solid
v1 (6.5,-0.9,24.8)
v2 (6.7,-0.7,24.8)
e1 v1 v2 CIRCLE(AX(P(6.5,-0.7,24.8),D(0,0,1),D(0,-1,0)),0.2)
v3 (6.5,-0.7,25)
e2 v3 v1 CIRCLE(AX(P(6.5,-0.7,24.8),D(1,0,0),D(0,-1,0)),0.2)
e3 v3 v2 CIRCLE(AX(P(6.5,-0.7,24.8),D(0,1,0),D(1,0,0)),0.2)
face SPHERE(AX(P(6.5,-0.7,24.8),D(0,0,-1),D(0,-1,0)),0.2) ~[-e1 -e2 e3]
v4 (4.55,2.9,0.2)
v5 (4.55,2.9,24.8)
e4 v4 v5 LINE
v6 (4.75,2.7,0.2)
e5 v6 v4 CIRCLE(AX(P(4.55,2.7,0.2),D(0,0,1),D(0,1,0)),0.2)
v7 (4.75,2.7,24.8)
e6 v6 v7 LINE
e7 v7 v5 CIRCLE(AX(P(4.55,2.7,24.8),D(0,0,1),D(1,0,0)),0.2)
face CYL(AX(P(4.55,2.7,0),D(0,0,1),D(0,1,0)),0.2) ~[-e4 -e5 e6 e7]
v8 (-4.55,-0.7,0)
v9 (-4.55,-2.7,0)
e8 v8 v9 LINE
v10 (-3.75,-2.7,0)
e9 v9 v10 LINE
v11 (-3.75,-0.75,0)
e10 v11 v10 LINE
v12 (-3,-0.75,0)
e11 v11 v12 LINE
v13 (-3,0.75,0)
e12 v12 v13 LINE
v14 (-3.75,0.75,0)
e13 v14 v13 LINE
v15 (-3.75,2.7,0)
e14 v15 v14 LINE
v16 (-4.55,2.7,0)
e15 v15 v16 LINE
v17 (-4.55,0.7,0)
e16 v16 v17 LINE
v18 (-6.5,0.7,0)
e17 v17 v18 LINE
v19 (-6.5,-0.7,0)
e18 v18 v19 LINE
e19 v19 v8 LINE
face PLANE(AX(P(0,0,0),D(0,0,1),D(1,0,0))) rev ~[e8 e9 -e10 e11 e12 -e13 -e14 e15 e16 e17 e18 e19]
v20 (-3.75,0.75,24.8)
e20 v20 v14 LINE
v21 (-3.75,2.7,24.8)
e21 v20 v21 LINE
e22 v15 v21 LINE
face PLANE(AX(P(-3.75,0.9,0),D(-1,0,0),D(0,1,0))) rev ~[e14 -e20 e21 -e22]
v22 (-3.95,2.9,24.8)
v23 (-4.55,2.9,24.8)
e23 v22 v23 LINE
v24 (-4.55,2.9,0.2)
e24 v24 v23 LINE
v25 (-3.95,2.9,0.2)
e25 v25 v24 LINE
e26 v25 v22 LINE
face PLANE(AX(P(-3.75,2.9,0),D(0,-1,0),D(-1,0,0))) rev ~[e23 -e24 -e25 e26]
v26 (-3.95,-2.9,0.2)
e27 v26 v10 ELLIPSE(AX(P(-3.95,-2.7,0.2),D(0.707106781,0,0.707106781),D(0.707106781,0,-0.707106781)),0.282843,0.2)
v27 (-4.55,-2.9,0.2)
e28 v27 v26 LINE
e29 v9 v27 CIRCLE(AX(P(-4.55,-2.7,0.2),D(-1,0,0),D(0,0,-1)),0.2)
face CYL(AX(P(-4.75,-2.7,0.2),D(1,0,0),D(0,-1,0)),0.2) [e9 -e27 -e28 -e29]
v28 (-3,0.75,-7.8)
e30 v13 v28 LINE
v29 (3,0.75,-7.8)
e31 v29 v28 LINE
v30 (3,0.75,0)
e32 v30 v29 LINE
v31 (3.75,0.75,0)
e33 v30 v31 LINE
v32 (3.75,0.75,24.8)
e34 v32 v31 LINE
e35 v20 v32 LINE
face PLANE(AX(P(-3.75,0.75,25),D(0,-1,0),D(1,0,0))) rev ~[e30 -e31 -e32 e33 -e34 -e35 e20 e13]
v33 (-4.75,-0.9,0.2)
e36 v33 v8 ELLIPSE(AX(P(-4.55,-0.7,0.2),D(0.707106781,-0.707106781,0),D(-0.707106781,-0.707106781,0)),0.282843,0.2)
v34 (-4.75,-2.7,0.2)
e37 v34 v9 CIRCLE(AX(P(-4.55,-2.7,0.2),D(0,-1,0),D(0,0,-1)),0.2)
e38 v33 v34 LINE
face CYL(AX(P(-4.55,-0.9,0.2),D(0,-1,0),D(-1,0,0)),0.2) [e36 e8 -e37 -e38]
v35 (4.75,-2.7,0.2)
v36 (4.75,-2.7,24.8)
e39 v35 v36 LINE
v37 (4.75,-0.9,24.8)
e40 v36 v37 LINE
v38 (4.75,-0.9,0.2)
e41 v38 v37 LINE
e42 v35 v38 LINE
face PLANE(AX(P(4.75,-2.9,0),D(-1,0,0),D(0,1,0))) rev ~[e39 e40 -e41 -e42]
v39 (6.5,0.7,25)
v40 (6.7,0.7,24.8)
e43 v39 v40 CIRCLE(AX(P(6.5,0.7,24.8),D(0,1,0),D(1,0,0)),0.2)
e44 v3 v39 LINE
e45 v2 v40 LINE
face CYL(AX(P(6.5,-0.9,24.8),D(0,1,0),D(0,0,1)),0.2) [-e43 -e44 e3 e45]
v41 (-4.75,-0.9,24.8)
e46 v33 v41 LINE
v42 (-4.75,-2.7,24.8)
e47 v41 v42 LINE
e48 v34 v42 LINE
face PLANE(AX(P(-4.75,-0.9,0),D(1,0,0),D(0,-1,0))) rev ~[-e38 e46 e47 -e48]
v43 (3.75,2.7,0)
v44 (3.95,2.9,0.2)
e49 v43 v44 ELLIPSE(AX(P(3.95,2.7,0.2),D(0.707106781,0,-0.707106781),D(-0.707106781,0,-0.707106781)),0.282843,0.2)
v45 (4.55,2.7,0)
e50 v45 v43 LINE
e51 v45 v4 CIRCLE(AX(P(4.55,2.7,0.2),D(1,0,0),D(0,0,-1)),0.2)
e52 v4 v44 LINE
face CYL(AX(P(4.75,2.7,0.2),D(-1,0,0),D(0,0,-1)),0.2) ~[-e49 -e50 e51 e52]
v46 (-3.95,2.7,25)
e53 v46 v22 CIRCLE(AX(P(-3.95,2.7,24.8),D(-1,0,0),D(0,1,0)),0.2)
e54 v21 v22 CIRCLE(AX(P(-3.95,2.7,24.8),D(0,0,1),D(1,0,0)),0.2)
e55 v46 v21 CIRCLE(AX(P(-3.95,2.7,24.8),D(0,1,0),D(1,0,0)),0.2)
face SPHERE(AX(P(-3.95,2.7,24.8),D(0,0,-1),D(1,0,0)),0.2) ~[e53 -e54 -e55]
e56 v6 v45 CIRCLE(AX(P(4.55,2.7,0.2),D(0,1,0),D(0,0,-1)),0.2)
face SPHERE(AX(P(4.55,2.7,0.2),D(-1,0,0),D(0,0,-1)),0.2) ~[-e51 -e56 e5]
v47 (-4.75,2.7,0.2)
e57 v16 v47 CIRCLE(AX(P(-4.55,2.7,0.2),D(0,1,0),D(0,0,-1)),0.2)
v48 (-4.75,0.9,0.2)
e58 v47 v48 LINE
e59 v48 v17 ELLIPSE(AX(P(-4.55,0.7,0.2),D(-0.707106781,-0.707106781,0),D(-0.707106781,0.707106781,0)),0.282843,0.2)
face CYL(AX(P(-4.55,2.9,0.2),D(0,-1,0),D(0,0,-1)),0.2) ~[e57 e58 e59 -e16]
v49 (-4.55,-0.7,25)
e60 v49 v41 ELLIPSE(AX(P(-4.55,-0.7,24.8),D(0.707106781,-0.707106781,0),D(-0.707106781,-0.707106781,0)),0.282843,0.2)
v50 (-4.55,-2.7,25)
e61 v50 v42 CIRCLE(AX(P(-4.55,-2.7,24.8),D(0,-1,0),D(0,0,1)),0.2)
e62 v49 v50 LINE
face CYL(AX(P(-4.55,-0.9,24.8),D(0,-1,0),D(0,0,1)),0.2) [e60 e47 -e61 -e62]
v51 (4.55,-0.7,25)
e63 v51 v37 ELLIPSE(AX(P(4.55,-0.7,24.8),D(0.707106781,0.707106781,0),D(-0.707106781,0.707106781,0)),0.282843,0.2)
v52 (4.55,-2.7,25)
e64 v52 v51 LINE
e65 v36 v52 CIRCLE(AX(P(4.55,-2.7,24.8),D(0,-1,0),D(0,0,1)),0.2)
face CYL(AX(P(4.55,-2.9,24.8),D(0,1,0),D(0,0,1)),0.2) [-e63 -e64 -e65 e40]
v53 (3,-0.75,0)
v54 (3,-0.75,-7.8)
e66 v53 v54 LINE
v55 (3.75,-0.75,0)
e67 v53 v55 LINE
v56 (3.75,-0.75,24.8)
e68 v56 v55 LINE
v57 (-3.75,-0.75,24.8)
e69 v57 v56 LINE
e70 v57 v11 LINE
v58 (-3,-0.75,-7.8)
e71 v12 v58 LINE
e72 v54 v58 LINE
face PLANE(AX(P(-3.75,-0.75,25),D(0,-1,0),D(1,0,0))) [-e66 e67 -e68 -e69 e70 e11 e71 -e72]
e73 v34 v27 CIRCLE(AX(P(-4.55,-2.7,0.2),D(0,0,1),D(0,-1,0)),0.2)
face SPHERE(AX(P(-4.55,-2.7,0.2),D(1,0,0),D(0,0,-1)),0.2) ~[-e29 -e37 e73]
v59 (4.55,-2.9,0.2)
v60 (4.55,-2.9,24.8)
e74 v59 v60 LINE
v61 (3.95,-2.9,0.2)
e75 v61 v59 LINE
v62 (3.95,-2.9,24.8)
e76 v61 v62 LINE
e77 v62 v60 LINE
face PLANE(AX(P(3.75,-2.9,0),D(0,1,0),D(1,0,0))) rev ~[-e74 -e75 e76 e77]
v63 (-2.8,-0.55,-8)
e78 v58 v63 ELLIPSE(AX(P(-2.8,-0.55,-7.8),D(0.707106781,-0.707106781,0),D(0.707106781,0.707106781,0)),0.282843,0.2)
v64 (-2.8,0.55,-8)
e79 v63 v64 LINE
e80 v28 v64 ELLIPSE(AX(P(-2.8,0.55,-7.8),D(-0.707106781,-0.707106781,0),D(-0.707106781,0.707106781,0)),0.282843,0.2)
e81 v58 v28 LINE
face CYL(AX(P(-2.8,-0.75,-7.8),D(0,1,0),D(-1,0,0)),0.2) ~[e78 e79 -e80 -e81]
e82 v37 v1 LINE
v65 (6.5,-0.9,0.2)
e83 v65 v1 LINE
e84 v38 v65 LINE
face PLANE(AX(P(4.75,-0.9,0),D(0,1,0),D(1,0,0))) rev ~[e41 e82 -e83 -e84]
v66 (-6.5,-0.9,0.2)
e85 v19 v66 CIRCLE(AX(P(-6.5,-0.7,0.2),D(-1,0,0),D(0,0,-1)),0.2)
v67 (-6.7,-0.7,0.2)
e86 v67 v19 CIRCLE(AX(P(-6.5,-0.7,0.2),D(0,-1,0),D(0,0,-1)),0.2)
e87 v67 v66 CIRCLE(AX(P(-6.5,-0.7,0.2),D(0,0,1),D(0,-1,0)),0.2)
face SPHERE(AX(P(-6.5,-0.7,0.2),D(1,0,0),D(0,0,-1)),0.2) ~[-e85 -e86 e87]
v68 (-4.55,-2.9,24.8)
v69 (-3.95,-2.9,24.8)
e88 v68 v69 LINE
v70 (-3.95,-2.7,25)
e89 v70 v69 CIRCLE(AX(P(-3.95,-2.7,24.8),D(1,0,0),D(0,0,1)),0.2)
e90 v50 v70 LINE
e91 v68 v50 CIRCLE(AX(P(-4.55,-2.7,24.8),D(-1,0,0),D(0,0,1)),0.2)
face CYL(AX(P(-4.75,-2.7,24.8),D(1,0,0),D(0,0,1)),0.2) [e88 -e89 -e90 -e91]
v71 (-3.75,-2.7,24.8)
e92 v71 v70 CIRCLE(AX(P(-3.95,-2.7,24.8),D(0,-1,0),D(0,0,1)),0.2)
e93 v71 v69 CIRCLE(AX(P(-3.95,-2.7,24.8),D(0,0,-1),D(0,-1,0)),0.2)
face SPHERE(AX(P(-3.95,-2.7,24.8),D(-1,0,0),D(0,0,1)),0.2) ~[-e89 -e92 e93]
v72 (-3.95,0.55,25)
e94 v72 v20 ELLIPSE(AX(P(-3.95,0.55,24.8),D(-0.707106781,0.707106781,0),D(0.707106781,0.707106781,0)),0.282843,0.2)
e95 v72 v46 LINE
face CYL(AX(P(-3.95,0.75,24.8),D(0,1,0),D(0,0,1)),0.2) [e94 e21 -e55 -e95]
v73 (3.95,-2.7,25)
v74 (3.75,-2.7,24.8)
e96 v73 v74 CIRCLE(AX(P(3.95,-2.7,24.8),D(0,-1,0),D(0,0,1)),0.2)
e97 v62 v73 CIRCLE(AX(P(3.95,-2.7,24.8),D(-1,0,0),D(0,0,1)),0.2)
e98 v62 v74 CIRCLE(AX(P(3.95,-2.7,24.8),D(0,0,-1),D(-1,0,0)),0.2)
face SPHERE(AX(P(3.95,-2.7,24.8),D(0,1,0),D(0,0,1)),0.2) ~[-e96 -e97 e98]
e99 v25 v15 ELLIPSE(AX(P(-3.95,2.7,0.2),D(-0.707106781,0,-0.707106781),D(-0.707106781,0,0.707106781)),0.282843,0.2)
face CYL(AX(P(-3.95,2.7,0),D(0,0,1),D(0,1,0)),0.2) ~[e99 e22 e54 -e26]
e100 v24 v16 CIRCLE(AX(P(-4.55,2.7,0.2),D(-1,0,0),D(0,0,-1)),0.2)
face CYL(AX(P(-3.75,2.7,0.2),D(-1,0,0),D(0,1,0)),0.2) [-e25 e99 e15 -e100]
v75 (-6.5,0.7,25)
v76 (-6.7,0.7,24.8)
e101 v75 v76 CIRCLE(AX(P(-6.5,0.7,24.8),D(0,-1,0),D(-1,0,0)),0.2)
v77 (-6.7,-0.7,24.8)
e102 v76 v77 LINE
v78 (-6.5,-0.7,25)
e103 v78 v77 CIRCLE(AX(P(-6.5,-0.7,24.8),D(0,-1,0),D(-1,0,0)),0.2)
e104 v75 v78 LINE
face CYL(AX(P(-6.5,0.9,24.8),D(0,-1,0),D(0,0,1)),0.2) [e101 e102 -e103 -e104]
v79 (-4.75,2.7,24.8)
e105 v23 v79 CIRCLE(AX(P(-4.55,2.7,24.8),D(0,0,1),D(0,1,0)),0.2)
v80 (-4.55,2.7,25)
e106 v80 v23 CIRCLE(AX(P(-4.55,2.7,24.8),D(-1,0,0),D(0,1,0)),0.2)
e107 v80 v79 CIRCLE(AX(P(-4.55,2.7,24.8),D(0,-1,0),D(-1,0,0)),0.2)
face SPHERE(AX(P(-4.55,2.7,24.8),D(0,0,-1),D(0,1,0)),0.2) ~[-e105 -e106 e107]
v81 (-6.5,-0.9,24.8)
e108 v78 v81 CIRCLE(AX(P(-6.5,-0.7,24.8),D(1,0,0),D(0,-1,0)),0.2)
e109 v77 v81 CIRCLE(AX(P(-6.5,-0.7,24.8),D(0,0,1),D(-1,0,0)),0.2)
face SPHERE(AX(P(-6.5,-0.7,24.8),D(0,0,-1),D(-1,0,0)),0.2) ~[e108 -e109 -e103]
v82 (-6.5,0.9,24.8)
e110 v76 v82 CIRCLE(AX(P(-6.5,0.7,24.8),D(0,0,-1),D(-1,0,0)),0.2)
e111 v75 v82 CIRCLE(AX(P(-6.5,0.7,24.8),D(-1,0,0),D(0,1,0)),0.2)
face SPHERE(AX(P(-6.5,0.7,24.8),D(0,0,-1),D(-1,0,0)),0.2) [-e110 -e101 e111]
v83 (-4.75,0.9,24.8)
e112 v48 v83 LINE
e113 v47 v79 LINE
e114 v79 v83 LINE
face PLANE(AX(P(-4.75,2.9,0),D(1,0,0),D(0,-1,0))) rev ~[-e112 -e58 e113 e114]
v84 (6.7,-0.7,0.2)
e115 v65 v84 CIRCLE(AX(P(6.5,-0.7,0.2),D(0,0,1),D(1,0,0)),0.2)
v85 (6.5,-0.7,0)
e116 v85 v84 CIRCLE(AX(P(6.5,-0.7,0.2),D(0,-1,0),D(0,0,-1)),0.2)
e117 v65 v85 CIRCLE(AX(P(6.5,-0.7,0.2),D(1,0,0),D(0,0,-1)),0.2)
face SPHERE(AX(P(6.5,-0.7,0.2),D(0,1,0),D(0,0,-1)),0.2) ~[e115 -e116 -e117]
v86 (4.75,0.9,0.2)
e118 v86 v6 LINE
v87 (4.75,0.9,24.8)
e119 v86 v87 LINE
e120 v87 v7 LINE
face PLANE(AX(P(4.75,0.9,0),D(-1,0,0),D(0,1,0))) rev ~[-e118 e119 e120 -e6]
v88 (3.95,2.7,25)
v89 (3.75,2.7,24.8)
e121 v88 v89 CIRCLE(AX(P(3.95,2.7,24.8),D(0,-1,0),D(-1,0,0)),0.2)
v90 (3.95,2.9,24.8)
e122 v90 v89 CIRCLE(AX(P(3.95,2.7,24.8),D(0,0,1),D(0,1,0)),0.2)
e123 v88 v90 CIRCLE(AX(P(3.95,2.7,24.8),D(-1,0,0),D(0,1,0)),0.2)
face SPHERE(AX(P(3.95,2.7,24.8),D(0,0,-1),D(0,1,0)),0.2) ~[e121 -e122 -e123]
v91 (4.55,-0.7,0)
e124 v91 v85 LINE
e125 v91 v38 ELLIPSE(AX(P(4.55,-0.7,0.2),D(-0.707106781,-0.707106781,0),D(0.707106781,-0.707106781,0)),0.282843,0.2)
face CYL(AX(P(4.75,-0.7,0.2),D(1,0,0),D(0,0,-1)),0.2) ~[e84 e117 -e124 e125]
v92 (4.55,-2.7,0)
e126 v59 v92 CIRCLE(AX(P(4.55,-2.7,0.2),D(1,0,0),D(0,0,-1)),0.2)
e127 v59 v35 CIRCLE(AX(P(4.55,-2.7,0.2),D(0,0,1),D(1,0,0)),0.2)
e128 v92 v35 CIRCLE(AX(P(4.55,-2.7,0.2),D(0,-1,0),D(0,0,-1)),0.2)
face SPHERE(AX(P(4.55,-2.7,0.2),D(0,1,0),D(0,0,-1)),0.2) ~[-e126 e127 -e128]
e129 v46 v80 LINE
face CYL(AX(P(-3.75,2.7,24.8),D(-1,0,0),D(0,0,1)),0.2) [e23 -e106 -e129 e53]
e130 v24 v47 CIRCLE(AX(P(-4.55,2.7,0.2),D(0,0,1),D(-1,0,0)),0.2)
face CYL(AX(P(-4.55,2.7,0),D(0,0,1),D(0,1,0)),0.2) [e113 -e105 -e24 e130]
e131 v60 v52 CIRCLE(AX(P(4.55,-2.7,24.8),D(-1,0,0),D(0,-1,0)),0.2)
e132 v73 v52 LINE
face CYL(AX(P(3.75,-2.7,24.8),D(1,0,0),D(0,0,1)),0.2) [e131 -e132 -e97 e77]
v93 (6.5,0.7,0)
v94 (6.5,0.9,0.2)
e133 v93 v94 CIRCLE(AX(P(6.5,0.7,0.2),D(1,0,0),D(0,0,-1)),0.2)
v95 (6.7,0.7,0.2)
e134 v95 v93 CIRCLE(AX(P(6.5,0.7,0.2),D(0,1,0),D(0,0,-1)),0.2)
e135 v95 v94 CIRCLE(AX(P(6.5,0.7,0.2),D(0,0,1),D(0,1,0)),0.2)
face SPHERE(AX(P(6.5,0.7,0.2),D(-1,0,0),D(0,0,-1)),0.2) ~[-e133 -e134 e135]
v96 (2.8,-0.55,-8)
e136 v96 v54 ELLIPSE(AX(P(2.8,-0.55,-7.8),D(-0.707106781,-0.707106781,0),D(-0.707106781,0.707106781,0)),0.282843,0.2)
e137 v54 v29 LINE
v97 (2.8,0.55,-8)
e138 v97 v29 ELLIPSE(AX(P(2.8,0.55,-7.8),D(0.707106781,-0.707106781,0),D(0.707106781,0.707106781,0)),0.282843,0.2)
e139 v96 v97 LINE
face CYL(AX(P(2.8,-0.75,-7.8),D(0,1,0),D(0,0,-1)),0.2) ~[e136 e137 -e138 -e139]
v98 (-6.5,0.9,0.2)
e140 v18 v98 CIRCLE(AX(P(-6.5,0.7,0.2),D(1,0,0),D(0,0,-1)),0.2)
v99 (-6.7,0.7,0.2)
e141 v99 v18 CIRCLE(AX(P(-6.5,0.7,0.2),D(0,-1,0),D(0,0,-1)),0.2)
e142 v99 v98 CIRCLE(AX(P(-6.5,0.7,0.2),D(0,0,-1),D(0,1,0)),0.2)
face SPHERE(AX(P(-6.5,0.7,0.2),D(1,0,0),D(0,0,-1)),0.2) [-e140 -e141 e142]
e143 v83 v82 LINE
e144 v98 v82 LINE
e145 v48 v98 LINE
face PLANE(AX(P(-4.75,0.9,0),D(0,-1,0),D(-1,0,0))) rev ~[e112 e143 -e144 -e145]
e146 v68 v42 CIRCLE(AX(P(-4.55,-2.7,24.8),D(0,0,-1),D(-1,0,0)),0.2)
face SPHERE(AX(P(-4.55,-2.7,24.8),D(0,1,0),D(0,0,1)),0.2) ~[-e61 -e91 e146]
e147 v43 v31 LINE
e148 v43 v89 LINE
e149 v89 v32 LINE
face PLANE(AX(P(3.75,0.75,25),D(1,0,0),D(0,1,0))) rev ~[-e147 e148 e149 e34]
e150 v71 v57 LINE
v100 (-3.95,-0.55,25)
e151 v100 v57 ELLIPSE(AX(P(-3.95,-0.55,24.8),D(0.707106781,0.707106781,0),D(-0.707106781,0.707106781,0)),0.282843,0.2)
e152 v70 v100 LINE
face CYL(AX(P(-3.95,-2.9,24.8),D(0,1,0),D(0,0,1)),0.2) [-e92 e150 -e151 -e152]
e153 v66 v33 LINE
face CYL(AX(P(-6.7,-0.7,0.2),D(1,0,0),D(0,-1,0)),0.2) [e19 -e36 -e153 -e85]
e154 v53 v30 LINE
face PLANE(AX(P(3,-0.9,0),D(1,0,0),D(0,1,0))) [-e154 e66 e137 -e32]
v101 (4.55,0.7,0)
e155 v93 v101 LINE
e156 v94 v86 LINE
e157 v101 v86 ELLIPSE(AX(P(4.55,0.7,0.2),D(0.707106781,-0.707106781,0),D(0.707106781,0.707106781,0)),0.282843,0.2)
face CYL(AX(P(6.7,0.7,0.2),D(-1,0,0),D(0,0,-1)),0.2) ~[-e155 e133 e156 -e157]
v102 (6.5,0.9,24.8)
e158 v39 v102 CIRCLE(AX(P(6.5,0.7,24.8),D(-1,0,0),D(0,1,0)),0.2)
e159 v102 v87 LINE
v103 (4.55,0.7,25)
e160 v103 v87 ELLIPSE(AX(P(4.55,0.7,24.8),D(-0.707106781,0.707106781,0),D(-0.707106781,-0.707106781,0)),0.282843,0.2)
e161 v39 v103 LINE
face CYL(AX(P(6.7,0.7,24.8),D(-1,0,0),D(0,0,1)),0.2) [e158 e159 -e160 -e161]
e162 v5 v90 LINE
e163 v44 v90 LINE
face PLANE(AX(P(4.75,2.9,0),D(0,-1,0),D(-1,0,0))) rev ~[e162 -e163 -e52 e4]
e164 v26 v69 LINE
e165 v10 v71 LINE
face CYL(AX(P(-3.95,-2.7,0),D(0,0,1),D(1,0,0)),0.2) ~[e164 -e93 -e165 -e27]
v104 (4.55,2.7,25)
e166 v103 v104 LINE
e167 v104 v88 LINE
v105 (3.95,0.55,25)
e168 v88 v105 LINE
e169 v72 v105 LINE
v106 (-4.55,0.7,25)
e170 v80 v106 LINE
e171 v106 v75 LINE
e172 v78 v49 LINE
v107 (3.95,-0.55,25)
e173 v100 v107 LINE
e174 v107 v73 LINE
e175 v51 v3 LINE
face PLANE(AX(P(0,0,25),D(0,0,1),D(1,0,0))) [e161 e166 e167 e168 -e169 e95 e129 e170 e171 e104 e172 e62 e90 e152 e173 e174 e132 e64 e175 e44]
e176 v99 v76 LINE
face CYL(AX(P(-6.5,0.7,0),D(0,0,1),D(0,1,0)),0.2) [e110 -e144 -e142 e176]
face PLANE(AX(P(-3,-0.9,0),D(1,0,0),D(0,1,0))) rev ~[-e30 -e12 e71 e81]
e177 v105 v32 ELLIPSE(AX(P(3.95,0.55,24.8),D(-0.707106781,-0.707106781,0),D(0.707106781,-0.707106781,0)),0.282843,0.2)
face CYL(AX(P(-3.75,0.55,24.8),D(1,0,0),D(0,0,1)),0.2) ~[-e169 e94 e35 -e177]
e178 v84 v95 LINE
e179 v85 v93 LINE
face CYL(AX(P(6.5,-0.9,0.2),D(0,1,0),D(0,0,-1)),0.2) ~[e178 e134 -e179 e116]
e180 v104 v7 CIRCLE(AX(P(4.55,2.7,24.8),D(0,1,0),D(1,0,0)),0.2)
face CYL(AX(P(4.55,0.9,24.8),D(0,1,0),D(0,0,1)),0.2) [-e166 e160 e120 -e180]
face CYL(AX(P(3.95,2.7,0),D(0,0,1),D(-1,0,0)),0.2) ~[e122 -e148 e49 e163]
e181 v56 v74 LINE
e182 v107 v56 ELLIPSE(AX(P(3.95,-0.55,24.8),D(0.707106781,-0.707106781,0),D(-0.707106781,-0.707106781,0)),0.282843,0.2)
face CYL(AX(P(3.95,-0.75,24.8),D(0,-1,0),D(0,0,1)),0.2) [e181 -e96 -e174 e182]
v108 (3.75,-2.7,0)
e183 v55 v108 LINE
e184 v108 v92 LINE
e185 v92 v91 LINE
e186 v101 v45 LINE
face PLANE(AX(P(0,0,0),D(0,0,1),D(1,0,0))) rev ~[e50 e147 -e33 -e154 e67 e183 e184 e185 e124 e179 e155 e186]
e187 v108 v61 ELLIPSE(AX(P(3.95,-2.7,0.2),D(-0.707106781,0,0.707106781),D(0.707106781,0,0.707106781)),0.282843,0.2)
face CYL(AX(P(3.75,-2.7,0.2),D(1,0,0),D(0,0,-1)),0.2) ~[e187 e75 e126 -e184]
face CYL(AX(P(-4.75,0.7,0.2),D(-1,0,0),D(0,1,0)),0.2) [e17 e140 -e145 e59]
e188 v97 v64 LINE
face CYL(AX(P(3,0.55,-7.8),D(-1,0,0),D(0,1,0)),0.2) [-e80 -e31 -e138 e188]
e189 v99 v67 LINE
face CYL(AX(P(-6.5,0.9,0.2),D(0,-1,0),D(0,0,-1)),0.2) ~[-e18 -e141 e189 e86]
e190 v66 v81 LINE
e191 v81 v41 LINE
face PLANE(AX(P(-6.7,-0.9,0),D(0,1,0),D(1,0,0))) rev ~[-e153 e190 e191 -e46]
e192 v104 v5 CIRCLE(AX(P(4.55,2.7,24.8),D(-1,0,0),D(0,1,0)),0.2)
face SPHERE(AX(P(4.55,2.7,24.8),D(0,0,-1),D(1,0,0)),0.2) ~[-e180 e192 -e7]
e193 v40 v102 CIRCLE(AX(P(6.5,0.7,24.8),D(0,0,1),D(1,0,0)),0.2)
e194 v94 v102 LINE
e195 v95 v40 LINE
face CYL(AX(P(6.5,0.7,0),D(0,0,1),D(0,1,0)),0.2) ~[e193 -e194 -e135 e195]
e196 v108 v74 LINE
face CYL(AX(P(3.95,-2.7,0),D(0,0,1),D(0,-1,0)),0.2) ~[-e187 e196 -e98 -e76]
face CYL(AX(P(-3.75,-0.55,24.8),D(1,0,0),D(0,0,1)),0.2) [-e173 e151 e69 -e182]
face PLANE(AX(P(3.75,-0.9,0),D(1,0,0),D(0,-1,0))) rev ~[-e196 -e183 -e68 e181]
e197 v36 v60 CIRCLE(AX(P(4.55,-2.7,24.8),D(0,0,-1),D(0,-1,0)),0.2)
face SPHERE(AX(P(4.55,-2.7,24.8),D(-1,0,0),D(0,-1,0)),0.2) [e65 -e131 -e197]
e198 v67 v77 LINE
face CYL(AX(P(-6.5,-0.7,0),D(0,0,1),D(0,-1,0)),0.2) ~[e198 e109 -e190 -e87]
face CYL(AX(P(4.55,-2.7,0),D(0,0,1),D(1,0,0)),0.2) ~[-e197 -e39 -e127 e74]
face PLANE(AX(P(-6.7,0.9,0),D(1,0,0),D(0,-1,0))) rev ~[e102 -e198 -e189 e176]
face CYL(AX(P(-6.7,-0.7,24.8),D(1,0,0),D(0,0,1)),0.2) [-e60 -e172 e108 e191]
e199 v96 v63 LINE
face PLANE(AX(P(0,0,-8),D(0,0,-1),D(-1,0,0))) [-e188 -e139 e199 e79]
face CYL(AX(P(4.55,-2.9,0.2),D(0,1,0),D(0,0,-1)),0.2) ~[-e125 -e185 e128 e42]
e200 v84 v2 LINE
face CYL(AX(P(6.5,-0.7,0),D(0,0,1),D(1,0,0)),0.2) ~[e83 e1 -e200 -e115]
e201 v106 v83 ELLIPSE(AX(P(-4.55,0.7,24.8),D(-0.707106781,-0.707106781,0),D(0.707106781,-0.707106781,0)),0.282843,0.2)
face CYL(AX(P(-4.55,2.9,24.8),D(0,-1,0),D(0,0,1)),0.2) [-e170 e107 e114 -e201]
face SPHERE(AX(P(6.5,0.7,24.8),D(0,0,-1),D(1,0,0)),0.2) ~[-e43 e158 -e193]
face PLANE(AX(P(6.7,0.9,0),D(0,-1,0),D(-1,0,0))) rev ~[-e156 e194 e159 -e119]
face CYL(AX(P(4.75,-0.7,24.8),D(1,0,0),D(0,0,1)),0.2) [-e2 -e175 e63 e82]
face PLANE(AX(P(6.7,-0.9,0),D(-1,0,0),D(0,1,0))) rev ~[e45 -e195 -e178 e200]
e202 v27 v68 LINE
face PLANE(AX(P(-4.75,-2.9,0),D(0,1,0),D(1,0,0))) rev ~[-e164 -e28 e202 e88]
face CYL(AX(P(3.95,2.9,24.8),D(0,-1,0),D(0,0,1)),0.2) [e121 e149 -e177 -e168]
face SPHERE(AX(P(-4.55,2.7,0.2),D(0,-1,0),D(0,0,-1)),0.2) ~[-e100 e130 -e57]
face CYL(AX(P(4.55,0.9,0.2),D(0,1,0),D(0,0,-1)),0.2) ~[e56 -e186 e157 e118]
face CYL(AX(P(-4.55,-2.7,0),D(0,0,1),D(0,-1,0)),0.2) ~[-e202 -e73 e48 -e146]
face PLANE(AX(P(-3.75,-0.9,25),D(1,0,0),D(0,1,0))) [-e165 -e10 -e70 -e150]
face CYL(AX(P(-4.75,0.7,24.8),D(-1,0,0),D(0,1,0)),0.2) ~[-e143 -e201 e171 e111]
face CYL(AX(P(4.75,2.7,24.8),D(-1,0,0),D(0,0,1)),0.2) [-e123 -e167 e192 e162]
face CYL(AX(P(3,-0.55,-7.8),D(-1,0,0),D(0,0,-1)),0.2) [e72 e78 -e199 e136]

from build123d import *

# Parameters (mm, degrees)
AUFSATZ_LINEAR_AUSTRAGEN1_DEPTH = 25
SKIZZE2_W                       = 6
SKIZZE2_H                       = 1.8
AUFSATZ_LINEAR_AUSTRAGEN2_DEPTH = 8
SKIZZE3_W                       = 7.5
SKIZZE3_H                       = 0.15
SCHNITT_LINEAR_AUSTRAGEN1_DEPTH = 34
VERRUNDUNG1_R                   = 0.2


with BuildPart() as part:
    # Skizze1 → Aufsatz-Linear austragen1 (new body)
    with BuildSketch(Plane.XY):
        Polygon((-4.75, 0.9), (-6.7, 0.9), (-6.7, -0.9), (-4.75, -0.9), (-4.75, -2.9), (-3.75, -2.9), (-3.75, -0.9), (3.75, -0.9), (3.75, -2.9), (4.75, -2.9), (4.75, -0.9), (6.7, -0.9), (6.7, 0.9), (4.75, 0.9), (4.75, 2.9), (3.75, 2.9), (3.75, 0.9), (-3.75, 0.9), (-3.75, 2.9), (-4.75, 2.9), align=None)
    extrude(amount=AUFSATZ_LINEAR_AUSTRAGEN1_DEPTH)

    # Skizze2 → Aufsatz-Linear austragen2 (add)
    with BuildSketch(Plane(origin=(0, 0, 0), x_dir=(-1, 0, 0), z_dir=(0, 0, -1))):
        Rectangle(SKIZZE2_W, SKIZZE2_H)
    extrude(amount=AUFSATZ_LINEAR_AUSTRAGEN2_DEPTH)

    # Skizze3 → Schnitt-Linear austragen1 (cut, through all)
    with BuildSketch(Plane.XY.offset(25)):
        with Locations((0, -0.825)):
            Rectangle(SKIZZE3_W, SKIZZE3_H)
        with Locations((0, 0.825)):
            Rectangle(SKIZZE3_W, SKIZZE3_H)
    extrude(amount=-SCHNITT_LINEAR_AUSTRAGEN1_DEPTH, mode=Mode.SUBTRACT)

    # Verrundung1
    verrundung1_edges = [part.edges().sort_by_distance(p)[0] for p in [
        (0, 0.75, 25),
        (-4.75, -1.9, 25),
        (-4.25, -2.9, 25),
        (-5.725, 0.9, 0),
        (-4.75, 1.9, 0),
        (-4.25, 2.9, 0),
        (-3.75, -1.825, 25),
        (4.25, 2.9, 0),
        (4.75, 1.9, 0),
        (5.725, 0.9, 0),
        (6.7, 0, 0),
        (5.725, -0.9, 0),
        (4.75, -1.9, 0),
        (4.25, -2.9, 0),
        (-4.25, -2.9, 0),
        (-4.75, -1.9, 0),
        (-5.725, -0.9, 0),
        (-6.7, 0, 0),
        (3.75, -1.825, 25),
        (4.25, -2.9, 25),
        (-6.7, 0.9, 12.5),
        (-4.75, 2.9, 12.5),
        (-3.75, 2.9, 12.5),
        (3.75, 2.9, 12.5),
        (4.75, 2.9, 12.5),
        (6.7, 0.9, 12.5),
        (6.7, -0.9, 12.5),
        (4.75, -2.9, 12.5),
        (3.75, -2.9, 12.5),
        (-3.75, -2.9, 12.5),
        (-4.75, -2.9, 12.5),
        (-6.7, -0.9, 12.5),
        (4.75, -1.9, 25),
        (5.725, -0.9, 25),
        (6.7, 0, 25),
        (5.725, 0.9, 25),
        (-6.7, 0, 25),
        (4.75, 1.9, 25),
        (4.25, 2.9, 25),
        (3.75, 1.825, 25),
        (-3.75, 1.825, 25),
        (3, 0, -8),
        (-3, 0, -8),
        (-4.25, 2.9, 25),
        (0, 0.75, -8),
        (0, -0.75, -8),
        (-4.75, 1.9, 25),
        (-5.725, 0.9, 25),
        (0, -0.75, 25),
        (-5.725, -0.9, 25),
    ]]
    fillet(verrundung1_edges, radius=VERRUNDUNG1_R)


solid = part.part
